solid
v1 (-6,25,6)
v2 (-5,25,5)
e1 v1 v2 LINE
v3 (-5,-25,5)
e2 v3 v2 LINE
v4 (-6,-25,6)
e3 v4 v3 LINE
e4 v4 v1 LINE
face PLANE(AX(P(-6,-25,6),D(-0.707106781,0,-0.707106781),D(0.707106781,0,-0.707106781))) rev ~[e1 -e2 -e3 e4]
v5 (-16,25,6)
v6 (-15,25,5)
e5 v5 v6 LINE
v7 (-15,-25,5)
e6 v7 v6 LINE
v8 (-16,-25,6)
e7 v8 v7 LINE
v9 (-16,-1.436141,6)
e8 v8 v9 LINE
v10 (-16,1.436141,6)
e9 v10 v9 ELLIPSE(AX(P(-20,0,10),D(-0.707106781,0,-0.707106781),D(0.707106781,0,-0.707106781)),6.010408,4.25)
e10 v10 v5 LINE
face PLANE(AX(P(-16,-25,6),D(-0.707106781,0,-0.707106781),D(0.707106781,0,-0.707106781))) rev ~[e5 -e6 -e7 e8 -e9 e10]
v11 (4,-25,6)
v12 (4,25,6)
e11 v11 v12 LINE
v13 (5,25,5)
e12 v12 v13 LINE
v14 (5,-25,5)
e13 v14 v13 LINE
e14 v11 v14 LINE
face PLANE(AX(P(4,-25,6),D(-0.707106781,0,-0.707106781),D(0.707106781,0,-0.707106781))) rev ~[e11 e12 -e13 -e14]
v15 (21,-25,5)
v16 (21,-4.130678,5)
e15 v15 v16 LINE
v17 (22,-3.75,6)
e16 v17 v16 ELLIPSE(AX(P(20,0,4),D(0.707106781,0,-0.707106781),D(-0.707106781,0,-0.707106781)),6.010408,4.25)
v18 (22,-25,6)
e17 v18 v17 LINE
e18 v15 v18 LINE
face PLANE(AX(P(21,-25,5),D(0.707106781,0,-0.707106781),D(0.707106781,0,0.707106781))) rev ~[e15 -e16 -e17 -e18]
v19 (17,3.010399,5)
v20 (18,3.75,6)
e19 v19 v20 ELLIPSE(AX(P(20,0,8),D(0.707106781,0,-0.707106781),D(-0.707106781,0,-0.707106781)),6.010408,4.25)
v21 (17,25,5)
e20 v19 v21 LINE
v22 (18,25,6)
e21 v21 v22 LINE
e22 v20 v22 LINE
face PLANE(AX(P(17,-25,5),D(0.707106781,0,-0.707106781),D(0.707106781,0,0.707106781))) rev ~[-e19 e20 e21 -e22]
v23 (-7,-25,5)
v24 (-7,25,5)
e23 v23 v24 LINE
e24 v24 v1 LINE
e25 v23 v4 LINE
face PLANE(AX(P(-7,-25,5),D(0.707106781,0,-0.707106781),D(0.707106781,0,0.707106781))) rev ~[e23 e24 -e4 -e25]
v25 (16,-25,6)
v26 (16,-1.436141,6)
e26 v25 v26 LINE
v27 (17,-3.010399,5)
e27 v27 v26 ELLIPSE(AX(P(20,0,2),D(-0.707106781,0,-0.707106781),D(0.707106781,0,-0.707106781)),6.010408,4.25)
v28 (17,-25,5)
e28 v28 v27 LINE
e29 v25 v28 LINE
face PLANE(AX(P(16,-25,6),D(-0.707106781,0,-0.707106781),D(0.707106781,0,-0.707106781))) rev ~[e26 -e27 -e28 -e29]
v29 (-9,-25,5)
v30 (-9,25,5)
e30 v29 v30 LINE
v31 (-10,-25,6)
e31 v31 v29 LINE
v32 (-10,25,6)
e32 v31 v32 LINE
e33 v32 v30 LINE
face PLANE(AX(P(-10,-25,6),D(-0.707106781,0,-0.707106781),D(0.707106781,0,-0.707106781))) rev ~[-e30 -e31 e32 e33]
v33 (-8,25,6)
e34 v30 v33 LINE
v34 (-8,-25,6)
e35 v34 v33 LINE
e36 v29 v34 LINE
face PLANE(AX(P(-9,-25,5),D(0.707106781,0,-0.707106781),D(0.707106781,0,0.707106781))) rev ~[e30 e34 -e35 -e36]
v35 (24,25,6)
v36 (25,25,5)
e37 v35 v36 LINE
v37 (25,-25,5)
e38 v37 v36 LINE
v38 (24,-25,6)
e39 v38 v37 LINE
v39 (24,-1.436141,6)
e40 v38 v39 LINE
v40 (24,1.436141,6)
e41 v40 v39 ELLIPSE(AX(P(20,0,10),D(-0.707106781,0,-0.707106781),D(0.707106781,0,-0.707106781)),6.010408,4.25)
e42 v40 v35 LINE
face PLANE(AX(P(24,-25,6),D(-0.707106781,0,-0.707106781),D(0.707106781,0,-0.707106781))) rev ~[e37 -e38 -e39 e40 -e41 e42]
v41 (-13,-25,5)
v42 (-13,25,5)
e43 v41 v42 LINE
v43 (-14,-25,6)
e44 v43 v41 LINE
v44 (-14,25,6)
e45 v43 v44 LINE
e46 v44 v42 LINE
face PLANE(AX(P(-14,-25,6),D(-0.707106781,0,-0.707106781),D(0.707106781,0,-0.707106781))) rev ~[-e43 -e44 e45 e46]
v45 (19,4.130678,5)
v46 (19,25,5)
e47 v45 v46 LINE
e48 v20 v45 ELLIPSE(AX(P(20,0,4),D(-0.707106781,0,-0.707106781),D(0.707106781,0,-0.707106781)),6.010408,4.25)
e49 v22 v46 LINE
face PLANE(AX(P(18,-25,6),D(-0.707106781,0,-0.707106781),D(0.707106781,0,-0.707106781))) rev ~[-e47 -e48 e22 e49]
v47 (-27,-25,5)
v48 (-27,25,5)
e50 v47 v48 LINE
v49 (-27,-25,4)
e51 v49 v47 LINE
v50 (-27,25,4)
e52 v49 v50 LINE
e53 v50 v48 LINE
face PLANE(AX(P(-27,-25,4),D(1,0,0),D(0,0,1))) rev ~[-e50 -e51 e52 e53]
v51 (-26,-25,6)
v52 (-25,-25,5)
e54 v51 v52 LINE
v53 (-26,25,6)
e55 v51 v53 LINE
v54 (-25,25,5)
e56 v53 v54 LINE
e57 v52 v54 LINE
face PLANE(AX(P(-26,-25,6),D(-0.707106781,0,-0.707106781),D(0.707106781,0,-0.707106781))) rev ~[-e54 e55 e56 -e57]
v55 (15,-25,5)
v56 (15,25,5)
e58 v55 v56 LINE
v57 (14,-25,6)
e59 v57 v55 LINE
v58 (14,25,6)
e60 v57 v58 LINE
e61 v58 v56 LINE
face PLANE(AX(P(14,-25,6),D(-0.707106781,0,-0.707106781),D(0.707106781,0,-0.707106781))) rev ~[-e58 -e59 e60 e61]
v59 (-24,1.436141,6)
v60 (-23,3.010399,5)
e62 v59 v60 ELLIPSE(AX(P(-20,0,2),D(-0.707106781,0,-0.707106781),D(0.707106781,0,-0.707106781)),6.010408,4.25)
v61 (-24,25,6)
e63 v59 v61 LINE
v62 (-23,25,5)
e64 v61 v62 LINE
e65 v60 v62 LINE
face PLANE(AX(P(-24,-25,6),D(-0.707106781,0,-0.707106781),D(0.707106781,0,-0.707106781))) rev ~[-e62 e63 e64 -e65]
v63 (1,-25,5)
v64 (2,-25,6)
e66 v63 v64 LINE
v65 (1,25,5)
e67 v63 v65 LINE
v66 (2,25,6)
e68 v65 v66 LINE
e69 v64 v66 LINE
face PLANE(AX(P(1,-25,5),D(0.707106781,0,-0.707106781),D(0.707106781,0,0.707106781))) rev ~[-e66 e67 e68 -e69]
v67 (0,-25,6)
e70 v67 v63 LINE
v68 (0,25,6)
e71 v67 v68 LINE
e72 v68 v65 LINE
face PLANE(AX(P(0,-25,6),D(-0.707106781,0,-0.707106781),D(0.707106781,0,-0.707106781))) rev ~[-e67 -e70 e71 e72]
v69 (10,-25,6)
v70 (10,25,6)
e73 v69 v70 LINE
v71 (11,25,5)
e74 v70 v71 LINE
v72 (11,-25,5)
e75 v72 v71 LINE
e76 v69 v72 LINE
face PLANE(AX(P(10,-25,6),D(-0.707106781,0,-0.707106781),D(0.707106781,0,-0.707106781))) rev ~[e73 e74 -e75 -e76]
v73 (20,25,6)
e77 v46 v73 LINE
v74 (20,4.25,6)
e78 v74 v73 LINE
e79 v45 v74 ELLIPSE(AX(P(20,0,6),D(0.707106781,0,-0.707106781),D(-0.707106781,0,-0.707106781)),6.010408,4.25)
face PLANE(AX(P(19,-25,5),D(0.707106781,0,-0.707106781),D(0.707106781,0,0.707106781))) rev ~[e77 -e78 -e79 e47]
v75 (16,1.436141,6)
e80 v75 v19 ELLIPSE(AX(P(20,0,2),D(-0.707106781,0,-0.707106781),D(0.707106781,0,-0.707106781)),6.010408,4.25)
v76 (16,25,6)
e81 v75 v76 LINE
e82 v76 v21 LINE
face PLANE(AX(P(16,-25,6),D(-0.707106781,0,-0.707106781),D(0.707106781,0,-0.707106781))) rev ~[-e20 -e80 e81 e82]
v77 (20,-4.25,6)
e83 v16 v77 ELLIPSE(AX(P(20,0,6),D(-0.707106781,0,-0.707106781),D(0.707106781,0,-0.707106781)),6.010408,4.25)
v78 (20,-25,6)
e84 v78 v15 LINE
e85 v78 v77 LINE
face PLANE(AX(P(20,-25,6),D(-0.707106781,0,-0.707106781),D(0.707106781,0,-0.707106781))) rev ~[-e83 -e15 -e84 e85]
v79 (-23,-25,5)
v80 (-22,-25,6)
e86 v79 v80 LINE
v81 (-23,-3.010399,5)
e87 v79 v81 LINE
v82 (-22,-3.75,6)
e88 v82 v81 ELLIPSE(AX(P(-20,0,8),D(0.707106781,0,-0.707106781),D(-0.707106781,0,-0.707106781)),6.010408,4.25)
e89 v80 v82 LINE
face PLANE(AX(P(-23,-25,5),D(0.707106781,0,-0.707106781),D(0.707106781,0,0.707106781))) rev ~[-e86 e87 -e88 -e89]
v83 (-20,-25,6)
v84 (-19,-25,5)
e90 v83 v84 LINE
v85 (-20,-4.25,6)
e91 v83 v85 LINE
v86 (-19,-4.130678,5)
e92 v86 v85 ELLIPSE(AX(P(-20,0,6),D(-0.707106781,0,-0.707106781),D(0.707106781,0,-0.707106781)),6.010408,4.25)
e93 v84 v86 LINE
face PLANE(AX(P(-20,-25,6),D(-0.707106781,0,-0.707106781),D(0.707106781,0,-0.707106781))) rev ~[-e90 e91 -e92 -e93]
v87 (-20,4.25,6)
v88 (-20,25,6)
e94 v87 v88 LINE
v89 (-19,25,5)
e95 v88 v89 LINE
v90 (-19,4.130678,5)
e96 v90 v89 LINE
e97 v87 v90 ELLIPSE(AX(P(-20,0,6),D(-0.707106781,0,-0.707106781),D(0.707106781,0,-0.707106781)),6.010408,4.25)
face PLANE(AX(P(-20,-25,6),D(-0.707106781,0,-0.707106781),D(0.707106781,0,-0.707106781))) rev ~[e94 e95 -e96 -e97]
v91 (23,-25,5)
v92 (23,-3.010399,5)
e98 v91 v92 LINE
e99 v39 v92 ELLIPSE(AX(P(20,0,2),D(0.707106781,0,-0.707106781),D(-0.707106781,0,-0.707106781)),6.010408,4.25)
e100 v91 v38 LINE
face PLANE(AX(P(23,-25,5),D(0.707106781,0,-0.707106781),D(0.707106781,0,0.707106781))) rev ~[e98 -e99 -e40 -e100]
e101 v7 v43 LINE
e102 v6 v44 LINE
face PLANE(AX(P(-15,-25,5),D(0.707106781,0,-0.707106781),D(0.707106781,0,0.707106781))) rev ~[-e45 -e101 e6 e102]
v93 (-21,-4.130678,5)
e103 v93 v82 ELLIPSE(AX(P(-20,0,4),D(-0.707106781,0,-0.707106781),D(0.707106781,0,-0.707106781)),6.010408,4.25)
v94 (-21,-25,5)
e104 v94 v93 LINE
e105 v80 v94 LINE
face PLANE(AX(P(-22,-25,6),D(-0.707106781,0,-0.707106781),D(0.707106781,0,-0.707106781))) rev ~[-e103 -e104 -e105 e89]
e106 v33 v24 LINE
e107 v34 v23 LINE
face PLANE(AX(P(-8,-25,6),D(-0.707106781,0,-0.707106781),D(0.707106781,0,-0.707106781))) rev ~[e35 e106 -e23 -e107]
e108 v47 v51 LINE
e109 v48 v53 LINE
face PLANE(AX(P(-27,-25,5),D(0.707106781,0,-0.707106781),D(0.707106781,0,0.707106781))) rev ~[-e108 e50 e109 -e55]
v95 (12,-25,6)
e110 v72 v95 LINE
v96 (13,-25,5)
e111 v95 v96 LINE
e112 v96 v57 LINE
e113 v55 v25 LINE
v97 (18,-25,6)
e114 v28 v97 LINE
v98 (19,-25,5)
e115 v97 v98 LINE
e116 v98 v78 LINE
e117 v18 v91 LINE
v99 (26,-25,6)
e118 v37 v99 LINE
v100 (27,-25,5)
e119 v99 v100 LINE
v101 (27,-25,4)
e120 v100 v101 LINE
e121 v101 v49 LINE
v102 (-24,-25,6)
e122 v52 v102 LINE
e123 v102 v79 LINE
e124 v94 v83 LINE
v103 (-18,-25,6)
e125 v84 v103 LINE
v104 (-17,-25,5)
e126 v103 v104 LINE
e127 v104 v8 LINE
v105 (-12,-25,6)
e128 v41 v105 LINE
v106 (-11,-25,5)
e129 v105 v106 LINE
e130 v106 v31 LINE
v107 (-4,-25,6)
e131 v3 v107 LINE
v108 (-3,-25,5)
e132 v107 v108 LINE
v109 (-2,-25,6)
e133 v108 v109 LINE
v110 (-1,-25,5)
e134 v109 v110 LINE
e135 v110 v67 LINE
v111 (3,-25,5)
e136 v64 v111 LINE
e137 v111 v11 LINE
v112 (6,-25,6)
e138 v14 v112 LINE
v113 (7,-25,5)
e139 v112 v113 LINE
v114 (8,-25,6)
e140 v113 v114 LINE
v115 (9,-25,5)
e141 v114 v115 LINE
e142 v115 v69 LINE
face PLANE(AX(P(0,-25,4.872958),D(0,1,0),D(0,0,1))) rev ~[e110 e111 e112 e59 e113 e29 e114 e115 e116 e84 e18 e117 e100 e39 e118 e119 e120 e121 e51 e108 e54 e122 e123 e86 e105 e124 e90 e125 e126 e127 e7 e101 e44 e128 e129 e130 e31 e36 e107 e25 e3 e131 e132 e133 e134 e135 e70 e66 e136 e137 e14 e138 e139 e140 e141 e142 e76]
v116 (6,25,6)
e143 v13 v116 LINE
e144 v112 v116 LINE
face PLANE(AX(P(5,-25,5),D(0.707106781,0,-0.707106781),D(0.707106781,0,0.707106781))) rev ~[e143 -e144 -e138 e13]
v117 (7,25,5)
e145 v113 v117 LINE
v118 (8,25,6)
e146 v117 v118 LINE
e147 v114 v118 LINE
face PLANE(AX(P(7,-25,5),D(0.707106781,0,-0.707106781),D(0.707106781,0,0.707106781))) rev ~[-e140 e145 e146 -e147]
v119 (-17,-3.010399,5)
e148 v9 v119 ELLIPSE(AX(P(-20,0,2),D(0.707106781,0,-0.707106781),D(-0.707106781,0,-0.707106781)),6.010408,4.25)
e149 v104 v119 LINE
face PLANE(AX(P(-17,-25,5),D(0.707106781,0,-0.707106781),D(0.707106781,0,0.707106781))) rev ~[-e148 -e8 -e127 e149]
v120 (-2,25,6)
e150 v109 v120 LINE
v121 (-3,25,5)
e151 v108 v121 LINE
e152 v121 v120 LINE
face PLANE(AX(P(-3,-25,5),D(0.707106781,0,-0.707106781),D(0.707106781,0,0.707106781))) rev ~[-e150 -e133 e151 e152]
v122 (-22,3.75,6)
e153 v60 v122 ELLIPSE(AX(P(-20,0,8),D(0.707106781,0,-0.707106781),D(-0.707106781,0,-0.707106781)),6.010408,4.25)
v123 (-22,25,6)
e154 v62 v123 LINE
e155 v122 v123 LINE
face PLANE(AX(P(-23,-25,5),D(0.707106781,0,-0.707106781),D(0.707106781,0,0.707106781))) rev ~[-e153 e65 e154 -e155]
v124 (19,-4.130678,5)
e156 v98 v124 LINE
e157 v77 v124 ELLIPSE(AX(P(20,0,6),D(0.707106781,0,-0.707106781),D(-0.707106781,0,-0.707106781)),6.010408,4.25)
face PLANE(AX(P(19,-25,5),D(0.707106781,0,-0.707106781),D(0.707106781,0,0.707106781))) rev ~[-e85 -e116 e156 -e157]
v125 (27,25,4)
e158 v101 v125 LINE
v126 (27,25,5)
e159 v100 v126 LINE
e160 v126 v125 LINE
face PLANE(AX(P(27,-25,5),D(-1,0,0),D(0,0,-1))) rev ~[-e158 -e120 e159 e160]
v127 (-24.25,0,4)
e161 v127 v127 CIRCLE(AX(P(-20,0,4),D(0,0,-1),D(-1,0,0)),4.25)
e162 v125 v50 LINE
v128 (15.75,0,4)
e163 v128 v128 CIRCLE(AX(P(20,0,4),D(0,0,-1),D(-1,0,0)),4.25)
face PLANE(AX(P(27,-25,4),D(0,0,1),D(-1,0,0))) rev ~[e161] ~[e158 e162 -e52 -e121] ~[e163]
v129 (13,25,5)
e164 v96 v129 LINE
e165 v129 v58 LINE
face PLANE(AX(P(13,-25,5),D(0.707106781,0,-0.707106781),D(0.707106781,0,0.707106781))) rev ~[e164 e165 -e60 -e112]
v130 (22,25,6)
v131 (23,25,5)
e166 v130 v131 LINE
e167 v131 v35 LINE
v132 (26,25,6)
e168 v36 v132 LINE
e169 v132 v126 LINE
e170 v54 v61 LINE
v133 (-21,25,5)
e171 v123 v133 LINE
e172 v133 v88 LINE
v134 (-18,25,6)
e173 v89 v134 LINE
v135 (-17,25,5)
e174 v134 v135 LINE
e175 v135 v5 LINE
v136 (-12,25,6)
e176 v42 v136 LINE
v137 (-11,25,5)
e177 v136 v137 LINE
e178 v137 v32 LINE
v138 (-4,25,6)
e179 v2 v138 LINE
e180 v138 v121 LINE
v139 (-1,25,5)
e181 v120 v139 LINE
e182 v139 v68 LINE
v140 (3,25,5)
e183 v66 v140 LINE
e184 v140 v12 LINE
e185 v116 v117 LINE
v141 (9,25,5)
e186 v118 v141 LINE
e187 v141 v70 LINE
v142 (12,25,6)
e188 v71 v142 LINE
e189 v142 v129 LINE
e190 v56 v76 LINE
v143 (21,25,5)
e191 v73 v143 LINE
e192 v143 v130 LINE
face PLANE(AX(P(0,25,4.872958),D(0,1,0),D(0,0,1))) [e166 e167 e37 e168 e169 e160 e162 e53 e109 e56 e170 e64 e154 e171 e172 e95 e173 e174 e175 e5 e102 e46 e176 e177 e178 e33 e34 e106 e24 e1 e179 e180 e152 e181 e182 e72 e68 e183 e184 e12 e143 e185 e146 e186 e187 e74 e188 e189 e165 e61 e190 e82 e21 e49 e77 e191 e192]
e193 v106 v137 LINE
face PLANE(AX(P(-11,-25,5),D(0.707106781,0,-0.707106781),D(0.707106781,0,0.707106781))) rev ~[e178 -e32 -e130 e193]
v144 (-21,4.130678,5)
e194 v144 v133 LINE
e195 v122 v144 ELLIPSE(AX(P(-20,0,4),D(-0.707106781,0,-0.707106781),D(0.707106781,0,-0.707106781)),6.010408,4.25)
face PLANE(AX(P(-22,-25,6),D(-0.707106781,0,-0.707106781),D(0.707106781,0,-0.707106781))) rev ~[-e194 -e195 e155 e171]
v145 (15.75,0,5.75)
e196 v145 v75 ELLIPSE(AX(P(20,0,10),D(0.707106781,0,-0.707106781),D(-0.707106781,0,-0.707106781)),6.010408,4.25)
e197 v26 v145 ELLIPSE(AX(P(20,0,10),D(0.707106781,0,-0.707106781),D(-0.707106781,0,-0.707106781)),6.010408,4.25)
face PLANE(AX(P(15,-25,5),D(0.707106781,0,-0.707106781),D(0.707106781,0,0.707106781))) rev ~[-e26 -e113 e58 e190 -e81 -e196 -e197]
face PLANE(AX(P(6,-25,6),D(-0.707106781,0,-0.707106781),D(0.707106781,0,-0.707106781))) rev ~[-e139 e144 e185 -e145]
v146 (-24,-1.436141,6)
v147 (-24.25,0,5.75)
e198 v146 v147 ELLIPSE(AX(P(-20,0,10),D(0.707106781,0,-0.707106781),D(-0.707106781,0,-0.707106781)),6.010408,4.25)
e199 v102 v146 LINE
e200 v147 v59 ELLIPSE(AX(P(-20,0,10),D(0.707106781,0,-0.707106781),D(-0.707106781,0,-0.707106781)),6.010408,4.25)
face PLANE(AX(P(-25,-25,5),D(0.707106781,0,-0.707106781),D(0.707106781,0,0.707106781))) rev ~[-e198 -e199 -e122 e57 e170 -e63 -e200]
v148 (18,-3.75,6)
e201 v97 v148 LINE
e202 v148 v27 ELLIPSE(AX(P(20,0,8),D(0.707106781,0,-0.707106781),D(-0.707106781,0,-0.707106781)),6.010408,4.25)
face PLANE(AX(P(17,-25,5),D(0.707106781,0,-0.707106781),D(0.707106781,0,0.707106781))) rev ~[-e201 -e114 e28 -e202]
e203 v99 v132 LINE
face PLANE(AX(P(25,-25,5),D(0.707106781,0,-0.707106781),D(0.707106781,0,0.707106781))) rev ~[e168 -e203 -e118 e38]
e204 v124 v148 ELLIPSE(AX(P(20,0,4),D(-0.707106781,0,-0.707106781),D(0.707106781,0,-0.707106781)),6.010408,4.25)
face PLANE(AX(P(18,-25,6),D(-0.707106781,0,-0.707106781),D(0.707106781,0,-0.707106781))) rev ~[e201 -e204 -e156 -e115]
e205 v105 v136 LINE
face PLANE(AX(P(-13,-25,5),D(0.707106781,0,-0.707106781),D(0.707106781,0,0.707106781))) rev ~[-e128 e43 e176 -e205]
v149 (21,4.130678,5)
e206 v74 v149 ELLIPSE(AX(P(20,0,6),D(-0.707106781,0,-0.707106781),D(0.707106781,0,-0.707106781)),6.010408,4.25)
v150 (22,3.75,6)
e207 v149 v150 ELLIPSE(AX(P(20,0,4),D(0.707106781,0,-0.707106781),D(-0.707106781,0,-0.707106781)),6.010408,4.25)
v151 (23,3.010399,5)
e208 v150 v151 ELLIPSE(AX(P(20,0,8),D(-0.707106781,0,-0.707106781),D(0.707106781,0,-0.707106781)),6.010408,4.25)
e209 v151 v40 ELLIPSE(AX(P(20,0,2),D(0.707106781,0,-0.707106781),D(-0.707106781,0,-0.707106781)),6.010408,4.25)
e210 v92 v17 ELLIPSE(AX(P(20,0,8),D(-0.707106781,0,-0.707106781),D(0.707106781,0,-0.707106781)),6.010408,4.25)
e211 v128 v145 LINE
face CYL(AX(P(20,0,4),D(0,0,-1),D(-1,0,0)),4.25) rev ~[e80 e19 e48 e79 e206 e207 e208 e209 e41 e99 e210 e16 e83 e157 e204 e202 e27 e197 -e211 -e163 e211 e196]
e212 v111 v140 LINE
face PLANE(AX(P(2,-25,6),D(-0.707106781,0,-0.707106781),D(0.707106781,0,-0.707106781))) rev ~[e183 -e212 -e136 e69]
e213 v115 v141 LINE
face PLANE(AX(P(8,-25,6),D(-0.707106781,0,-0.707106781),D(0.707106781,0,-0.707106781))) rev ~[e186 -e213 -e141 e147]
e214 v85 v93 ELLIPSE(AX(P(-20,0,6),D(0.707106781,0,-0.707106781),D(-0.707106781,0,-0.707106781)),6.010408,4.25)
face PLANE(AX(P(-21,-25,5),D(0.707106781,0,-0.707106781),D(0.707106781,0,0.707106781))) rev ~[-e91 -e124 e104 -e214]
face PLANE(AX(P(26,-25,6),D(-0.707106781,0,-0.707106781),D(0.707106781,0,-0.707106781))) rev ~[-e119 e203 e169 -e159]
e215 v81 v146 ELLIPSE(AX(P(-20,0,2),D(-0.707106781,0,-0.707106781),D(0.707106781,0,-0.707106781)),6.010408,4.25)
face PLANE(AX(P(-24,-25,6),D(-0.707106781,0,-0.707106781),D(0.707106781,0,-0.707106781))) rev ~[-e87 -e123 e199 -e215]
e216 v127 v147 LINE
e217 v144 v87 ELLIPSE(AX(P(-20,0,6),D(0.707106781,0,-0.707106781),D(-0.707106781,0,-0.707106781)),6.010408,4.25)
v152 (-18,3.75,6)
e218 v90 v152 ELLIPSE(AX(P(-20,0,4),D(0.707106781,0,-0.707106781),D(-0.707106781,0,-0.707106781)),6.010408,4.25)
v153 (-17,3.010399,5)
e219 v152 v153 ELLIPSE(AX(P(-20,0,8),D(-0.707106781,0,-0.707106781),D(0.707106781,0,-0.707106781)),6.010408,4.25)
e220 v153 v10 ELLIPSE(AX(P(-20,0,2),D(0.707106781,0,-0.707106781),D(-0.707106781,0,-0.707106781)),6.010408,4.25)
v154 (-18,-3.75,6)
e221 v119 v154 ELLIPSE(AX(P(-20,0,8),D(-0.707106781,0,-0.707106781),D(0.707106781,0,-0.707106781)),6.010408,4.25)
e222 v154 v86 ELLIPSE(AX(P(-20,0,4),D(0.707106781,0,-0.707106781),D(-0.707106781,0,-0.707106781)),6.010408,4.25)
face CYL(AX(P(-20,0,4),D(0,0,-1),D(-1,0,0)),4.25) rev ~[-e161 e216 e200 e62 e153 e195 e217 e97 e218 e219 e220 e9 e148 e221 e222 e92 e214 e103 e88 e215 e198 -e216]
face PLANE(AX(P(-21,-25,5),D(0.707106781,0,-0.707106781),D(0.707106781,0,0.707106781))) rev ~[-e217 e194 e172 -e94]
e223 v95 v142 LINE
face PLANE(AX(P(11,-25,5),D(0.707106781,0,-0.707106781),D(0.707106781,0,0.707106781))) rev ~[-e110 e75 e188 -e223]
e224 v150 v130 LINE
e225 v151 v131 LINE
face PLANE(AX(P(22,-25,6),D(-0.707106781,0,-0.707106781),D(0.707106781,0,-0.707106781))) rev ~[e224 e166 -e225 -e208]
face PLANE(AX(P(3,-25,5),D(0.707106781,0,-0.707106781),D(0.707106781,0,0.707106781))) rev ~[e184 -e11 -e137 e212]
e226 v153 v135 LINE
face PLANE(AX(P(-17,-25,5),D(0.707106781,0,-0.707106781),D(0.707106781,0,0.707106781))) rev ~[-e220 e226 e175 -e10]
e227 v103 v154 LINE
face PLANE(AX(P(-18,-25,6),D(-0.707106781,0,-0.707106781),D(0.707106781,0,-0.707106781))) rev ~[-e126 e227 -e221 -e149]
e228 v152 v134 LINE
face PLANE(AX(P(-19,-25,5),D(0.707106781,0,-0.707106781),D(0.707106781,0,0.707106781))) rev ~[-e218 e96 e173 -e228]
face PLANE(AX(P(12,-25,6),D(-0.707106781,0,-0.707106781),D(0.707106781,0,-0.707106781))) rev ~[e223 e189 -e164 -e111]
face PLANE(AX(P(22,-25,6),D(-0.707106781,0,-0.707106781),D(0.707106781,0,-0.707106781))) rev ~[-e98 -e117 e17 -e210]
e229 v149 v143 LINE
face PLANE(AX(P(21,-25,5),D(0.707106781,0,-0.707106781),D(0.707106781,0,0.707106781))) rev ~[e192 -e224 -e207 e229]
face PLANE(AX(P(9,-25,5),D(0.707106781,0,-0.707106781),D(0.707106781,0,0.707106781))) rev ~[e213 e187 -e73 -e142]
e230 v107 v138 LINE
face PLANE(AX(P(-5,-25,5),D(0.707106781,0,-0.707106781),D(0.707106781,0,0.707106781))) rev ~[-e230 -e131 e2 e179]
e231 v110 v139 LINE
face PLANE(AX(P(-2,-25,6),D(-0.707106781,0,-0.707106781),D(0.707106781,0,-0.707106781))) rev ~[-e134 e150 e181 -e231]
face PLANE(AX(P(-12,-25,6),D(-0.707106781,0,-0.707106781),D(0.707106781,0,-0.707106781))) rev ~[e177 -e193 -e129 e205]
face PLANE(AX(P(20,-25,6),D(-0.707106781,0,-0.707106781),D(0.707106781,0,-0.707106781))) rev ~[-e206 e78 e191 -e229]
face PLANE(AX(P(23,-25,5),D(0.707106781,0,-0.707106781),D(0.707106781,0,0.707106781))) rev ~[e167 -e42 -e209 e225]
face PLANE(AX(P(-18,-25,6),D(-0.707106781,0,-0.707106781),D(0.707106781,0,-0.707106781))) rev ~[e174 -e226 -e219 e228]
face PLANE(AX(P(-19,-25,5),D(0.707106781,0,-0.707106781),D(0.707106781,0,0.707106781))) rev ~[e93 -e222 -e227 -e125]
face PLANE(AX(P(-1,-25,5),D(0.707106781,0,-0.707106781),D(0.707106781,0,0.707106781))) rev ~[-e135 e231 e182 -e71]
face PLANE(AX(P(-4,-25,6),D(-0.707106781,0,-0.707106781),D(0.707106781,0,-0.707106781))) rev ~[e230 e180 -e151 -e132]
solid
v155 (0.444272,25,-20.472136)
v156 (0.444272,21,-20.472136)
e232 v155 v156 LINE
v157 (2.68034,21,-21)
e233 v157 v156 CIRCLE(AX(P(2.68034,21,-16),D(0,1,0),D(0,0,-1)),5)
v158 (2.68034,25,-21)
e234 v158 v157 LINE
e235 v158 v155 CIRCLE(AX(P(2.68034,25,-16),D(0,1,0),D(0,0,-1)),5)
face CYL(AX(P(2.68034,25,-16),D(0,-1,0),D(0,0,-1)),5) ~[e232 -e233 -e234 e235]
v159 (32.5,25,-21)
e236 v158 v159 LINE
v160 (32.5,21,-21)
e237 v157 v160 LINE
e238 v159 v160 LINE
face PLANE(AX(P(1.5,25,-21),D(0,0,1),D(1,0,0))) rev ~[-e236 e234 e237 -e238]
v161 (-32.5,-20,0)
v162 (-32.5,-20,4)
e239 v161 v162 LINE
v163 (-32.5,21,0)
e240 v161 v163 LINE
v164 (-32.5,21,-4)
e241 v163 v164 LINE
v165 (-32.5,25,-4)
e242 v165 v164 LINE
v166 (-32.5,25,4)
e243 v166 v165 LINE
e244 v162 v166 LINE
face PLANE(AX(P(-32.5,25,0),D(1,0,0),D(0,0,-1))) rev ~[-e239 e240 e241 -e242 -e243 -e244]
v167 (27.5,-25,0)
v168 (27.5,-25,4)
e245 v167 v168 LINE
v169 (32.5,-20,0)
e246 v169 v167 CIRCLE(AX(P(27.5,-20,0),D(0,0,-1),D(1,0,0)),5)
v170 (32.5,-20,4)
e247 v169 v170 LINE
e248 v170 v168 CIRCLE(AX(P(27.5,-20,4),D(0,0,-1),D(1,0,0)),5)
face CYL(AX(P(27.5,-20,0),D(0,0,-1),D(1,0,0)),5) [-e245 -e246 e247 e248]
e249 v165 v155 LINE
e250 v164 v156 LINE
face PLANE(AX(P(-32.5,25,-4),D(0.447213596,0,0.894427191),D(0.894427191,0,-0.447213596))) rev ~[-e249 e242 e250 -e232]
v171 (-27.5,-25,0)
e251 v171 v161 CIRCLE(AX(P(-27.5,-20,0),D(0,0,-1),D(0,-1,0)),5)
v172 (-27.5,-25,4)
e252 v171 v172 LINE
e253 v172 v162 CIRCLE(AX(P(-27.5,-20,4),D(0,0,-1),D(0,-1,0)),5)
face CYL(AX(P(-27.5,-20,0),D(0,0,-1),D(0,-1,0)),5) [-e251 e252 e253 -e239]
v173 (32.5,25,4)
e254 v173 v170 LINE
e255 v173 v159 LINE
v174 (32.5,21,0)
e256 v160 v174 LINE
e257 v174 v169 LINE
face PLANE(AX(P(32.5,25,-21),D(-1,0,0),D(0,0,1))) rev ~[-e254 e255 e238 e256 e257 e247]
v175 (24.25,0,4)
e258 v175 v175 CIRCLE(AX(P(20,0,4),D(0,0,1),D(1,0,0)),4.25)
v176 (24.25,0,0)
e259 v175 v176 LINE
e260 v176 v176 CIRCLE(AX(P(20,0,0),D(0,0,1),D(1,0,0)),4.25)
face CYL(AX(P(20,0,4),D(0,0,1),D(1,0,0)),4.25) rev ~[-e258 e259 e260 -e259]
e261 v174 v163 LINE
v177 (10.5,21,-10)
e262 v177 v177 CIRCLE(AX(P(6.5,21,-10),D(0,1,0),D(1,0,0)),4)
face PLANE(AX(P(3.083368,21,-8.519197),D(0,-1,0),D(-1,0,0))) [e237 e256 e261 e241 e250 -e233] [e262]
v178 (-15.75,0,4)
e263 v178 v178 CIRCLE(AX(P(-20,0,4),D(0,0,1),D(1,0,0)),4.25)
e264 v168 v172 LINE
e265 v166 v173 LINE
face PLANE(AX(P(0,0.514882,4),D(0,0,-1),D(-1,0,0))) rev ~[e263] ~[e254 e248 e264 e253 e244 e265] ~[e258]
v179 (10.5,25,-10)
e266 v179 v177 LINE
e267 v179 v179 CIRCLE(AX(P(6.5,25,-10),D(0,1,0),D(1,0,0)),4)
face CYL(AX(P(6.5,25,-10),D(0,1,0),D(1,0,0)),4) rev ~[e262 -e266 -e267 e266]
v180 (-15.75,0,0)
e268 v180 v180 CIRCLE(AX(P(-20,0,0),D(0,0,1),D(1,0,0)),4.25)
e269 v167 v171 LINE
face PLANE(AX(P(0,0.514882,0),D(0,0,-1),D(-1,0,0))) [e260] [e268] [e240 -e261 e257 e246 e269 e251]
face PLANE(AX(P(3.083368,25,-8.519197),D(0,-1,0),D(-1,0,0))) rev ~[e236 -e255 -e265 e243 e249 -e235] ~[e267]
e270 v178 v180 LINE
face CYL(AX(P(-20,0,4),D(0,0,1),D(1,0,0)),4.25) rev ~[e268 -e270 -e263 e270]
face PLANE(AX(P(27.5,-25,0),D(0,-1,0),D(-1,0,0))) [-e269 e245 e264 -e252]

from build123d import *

# Parameters (mm, degrees)
BOSS_EXTRU_1_DEPTH      = 4
BOSS_EXTRU_2_DEPTH      = 4
CONG_1_R                = 5
ESQUISSE4_R             = 4.25
ENL_V_MAT_EXTRU_1_DEPTH = 4
ESQUISSE5_R             = 4
ENL_V_MAT_EXTRU_2_DEPTH = 4
BOSS_EXTRU_3_DEPTH      = 50
ESQUISSE7_R             = 4.25
ENL_V_MAT_EXTRU_3_DEPTH = 3


with BuildPart() as part:
    # Esquisse1 → Boss.-Extru.1 (new body)
    with BuildSketch(Plane.XY):
        with BuildLine():
            Line((-32.5, 25), (32.5, 25))
            Line((32.5, 25), (32.5, -20))
            ThreePointArc((32.5, -20), (31.035533906, -23.535533906), (27.5, -25))
            Line((27.5, -25), (-27.5, -25))
            ThreePointArc((-27.5, -25), (-31.035533906, -23.535533906), (-32.5, -20))
            Line((-32.5, -20), (-32.5, 25))
        make_face()
    extrude(amount=BOSS_EXTRU_1_DEPTH)

    # Esquisse3 → Boss.-Extru.2 (add)
    with BuildSketch(Plane(origin=(0, 25, 0), x_dir=(1, 0, 0), z_dir=(0, 1, 0))):
        Polygon((-32.5, 0), (-32.5, 4), (1.5, 21), (32.5, 21), (32.5, 0), align=None)
    extrude(amount=-BOSS_EXTRU_2_DEPTH)

    # Congé1
    cong_1_edges = [part.edges().sort_by_distance(p)[0] for p in [
        (1.5, 23, -21),
    ]]
    fillet(cong_1_edges, radius=CONG_1_R)

    # Esquisse4 → Enlèv. mat.-Extru.1 (cut)
    with BuildSketch(Plane.XY.offset(4)):
        with Locations((-20, 0)):
            Circle(ESQUISSE4_R)
        with Locations((20, 0)):
            Circle(ESQUISSE4_R)
    extrude(amount=-ENL_V_MAT_EXTRU_1_DEPTH, mode=Mode.SUBTRACT)

    # Esquisse5 → Enlèv. mat.-Extru.2 (cut)
    with BuildSketch(Plane(origin=(0, 25, 0), x_dir=(1, 0, 0), z_dir=(0, 1, 0))):
        with Locations((6.5, 10)):
            Circle(ESQUISSE5_R)
    extrude(amount=-ENL_V_MAT_EXTRU_2_DEPTH, mode=Mode.SUBTRACT)


with BuildPart() as body_2:
    # Esquisse6 → Boss.-Extru.3 (new body)
    with BuildSketch(Plane(origin=(-7.5, -25, 0), x_dir=(0, 0, 1), z_dir=(0, 1, 0))):
        Polygon((4, -19.5), (5, -19.5), (6, -18.5), (5, -17.5), (6, -16.5), (5, -15.5), (6, -14.5), (5, -13.5), (6, -12.5), (5, -11.5), (6, -10.5), (5, -9.5), (6, -8.5), (5, -7.5), (6, -6.5), (5, -5.5), (6, -4.5), (5, -3.5), (6, -2.5), (5, -1.5), (6, -0.5), (5, 0.5), (6, 1.5), (5, 2.5), (6, 3.5), (5, 4.5), (6, 5.5), (5, 6.5), (6, 7.5), (5, 8.5), (6, 9.5), (5, 10.5), (6, 11.5), (5, 12.5), (6, 13.5), (5, 14.5), (6, 15.5), (5, 16.5), (6, 17.5), (5, 18.5), (6, 19.5), (5, 20.5), (6, 21.5), (5, 22.5), (6, 23.5), (5, 24.5), (6, 25.5), (5, 26.5), (6, 27.5), (5, 28.5), (6, 29.5), (5, 30.5), (6, 31.5), (5, 32.5), (6, 33.5), (5, 34.5), (4, 34.5), align=None)
    extrude(amount=BOSS_EXTRU_3_DEPTH)

    # Esquisse7 → Enlèv. mat.-Extru.3 (cut, through all)
    with BuildSketch(Plane(origin=(0, 0, 4), x_dir=(-1, 0, 0), z_dir=(0, 0, -1))):
        with Locations((-20, 0)):
            Circle(ESQUISSE7_R)
        with Locations((20, 0)):
            Circle(ESQUISSE7_R)
    extrude(amount=-ENL_V_MAT_EXTRU_3_DEPTH, mode=Mode.SUBTRACT)


solid = Compound([part.part, body_2.part])
